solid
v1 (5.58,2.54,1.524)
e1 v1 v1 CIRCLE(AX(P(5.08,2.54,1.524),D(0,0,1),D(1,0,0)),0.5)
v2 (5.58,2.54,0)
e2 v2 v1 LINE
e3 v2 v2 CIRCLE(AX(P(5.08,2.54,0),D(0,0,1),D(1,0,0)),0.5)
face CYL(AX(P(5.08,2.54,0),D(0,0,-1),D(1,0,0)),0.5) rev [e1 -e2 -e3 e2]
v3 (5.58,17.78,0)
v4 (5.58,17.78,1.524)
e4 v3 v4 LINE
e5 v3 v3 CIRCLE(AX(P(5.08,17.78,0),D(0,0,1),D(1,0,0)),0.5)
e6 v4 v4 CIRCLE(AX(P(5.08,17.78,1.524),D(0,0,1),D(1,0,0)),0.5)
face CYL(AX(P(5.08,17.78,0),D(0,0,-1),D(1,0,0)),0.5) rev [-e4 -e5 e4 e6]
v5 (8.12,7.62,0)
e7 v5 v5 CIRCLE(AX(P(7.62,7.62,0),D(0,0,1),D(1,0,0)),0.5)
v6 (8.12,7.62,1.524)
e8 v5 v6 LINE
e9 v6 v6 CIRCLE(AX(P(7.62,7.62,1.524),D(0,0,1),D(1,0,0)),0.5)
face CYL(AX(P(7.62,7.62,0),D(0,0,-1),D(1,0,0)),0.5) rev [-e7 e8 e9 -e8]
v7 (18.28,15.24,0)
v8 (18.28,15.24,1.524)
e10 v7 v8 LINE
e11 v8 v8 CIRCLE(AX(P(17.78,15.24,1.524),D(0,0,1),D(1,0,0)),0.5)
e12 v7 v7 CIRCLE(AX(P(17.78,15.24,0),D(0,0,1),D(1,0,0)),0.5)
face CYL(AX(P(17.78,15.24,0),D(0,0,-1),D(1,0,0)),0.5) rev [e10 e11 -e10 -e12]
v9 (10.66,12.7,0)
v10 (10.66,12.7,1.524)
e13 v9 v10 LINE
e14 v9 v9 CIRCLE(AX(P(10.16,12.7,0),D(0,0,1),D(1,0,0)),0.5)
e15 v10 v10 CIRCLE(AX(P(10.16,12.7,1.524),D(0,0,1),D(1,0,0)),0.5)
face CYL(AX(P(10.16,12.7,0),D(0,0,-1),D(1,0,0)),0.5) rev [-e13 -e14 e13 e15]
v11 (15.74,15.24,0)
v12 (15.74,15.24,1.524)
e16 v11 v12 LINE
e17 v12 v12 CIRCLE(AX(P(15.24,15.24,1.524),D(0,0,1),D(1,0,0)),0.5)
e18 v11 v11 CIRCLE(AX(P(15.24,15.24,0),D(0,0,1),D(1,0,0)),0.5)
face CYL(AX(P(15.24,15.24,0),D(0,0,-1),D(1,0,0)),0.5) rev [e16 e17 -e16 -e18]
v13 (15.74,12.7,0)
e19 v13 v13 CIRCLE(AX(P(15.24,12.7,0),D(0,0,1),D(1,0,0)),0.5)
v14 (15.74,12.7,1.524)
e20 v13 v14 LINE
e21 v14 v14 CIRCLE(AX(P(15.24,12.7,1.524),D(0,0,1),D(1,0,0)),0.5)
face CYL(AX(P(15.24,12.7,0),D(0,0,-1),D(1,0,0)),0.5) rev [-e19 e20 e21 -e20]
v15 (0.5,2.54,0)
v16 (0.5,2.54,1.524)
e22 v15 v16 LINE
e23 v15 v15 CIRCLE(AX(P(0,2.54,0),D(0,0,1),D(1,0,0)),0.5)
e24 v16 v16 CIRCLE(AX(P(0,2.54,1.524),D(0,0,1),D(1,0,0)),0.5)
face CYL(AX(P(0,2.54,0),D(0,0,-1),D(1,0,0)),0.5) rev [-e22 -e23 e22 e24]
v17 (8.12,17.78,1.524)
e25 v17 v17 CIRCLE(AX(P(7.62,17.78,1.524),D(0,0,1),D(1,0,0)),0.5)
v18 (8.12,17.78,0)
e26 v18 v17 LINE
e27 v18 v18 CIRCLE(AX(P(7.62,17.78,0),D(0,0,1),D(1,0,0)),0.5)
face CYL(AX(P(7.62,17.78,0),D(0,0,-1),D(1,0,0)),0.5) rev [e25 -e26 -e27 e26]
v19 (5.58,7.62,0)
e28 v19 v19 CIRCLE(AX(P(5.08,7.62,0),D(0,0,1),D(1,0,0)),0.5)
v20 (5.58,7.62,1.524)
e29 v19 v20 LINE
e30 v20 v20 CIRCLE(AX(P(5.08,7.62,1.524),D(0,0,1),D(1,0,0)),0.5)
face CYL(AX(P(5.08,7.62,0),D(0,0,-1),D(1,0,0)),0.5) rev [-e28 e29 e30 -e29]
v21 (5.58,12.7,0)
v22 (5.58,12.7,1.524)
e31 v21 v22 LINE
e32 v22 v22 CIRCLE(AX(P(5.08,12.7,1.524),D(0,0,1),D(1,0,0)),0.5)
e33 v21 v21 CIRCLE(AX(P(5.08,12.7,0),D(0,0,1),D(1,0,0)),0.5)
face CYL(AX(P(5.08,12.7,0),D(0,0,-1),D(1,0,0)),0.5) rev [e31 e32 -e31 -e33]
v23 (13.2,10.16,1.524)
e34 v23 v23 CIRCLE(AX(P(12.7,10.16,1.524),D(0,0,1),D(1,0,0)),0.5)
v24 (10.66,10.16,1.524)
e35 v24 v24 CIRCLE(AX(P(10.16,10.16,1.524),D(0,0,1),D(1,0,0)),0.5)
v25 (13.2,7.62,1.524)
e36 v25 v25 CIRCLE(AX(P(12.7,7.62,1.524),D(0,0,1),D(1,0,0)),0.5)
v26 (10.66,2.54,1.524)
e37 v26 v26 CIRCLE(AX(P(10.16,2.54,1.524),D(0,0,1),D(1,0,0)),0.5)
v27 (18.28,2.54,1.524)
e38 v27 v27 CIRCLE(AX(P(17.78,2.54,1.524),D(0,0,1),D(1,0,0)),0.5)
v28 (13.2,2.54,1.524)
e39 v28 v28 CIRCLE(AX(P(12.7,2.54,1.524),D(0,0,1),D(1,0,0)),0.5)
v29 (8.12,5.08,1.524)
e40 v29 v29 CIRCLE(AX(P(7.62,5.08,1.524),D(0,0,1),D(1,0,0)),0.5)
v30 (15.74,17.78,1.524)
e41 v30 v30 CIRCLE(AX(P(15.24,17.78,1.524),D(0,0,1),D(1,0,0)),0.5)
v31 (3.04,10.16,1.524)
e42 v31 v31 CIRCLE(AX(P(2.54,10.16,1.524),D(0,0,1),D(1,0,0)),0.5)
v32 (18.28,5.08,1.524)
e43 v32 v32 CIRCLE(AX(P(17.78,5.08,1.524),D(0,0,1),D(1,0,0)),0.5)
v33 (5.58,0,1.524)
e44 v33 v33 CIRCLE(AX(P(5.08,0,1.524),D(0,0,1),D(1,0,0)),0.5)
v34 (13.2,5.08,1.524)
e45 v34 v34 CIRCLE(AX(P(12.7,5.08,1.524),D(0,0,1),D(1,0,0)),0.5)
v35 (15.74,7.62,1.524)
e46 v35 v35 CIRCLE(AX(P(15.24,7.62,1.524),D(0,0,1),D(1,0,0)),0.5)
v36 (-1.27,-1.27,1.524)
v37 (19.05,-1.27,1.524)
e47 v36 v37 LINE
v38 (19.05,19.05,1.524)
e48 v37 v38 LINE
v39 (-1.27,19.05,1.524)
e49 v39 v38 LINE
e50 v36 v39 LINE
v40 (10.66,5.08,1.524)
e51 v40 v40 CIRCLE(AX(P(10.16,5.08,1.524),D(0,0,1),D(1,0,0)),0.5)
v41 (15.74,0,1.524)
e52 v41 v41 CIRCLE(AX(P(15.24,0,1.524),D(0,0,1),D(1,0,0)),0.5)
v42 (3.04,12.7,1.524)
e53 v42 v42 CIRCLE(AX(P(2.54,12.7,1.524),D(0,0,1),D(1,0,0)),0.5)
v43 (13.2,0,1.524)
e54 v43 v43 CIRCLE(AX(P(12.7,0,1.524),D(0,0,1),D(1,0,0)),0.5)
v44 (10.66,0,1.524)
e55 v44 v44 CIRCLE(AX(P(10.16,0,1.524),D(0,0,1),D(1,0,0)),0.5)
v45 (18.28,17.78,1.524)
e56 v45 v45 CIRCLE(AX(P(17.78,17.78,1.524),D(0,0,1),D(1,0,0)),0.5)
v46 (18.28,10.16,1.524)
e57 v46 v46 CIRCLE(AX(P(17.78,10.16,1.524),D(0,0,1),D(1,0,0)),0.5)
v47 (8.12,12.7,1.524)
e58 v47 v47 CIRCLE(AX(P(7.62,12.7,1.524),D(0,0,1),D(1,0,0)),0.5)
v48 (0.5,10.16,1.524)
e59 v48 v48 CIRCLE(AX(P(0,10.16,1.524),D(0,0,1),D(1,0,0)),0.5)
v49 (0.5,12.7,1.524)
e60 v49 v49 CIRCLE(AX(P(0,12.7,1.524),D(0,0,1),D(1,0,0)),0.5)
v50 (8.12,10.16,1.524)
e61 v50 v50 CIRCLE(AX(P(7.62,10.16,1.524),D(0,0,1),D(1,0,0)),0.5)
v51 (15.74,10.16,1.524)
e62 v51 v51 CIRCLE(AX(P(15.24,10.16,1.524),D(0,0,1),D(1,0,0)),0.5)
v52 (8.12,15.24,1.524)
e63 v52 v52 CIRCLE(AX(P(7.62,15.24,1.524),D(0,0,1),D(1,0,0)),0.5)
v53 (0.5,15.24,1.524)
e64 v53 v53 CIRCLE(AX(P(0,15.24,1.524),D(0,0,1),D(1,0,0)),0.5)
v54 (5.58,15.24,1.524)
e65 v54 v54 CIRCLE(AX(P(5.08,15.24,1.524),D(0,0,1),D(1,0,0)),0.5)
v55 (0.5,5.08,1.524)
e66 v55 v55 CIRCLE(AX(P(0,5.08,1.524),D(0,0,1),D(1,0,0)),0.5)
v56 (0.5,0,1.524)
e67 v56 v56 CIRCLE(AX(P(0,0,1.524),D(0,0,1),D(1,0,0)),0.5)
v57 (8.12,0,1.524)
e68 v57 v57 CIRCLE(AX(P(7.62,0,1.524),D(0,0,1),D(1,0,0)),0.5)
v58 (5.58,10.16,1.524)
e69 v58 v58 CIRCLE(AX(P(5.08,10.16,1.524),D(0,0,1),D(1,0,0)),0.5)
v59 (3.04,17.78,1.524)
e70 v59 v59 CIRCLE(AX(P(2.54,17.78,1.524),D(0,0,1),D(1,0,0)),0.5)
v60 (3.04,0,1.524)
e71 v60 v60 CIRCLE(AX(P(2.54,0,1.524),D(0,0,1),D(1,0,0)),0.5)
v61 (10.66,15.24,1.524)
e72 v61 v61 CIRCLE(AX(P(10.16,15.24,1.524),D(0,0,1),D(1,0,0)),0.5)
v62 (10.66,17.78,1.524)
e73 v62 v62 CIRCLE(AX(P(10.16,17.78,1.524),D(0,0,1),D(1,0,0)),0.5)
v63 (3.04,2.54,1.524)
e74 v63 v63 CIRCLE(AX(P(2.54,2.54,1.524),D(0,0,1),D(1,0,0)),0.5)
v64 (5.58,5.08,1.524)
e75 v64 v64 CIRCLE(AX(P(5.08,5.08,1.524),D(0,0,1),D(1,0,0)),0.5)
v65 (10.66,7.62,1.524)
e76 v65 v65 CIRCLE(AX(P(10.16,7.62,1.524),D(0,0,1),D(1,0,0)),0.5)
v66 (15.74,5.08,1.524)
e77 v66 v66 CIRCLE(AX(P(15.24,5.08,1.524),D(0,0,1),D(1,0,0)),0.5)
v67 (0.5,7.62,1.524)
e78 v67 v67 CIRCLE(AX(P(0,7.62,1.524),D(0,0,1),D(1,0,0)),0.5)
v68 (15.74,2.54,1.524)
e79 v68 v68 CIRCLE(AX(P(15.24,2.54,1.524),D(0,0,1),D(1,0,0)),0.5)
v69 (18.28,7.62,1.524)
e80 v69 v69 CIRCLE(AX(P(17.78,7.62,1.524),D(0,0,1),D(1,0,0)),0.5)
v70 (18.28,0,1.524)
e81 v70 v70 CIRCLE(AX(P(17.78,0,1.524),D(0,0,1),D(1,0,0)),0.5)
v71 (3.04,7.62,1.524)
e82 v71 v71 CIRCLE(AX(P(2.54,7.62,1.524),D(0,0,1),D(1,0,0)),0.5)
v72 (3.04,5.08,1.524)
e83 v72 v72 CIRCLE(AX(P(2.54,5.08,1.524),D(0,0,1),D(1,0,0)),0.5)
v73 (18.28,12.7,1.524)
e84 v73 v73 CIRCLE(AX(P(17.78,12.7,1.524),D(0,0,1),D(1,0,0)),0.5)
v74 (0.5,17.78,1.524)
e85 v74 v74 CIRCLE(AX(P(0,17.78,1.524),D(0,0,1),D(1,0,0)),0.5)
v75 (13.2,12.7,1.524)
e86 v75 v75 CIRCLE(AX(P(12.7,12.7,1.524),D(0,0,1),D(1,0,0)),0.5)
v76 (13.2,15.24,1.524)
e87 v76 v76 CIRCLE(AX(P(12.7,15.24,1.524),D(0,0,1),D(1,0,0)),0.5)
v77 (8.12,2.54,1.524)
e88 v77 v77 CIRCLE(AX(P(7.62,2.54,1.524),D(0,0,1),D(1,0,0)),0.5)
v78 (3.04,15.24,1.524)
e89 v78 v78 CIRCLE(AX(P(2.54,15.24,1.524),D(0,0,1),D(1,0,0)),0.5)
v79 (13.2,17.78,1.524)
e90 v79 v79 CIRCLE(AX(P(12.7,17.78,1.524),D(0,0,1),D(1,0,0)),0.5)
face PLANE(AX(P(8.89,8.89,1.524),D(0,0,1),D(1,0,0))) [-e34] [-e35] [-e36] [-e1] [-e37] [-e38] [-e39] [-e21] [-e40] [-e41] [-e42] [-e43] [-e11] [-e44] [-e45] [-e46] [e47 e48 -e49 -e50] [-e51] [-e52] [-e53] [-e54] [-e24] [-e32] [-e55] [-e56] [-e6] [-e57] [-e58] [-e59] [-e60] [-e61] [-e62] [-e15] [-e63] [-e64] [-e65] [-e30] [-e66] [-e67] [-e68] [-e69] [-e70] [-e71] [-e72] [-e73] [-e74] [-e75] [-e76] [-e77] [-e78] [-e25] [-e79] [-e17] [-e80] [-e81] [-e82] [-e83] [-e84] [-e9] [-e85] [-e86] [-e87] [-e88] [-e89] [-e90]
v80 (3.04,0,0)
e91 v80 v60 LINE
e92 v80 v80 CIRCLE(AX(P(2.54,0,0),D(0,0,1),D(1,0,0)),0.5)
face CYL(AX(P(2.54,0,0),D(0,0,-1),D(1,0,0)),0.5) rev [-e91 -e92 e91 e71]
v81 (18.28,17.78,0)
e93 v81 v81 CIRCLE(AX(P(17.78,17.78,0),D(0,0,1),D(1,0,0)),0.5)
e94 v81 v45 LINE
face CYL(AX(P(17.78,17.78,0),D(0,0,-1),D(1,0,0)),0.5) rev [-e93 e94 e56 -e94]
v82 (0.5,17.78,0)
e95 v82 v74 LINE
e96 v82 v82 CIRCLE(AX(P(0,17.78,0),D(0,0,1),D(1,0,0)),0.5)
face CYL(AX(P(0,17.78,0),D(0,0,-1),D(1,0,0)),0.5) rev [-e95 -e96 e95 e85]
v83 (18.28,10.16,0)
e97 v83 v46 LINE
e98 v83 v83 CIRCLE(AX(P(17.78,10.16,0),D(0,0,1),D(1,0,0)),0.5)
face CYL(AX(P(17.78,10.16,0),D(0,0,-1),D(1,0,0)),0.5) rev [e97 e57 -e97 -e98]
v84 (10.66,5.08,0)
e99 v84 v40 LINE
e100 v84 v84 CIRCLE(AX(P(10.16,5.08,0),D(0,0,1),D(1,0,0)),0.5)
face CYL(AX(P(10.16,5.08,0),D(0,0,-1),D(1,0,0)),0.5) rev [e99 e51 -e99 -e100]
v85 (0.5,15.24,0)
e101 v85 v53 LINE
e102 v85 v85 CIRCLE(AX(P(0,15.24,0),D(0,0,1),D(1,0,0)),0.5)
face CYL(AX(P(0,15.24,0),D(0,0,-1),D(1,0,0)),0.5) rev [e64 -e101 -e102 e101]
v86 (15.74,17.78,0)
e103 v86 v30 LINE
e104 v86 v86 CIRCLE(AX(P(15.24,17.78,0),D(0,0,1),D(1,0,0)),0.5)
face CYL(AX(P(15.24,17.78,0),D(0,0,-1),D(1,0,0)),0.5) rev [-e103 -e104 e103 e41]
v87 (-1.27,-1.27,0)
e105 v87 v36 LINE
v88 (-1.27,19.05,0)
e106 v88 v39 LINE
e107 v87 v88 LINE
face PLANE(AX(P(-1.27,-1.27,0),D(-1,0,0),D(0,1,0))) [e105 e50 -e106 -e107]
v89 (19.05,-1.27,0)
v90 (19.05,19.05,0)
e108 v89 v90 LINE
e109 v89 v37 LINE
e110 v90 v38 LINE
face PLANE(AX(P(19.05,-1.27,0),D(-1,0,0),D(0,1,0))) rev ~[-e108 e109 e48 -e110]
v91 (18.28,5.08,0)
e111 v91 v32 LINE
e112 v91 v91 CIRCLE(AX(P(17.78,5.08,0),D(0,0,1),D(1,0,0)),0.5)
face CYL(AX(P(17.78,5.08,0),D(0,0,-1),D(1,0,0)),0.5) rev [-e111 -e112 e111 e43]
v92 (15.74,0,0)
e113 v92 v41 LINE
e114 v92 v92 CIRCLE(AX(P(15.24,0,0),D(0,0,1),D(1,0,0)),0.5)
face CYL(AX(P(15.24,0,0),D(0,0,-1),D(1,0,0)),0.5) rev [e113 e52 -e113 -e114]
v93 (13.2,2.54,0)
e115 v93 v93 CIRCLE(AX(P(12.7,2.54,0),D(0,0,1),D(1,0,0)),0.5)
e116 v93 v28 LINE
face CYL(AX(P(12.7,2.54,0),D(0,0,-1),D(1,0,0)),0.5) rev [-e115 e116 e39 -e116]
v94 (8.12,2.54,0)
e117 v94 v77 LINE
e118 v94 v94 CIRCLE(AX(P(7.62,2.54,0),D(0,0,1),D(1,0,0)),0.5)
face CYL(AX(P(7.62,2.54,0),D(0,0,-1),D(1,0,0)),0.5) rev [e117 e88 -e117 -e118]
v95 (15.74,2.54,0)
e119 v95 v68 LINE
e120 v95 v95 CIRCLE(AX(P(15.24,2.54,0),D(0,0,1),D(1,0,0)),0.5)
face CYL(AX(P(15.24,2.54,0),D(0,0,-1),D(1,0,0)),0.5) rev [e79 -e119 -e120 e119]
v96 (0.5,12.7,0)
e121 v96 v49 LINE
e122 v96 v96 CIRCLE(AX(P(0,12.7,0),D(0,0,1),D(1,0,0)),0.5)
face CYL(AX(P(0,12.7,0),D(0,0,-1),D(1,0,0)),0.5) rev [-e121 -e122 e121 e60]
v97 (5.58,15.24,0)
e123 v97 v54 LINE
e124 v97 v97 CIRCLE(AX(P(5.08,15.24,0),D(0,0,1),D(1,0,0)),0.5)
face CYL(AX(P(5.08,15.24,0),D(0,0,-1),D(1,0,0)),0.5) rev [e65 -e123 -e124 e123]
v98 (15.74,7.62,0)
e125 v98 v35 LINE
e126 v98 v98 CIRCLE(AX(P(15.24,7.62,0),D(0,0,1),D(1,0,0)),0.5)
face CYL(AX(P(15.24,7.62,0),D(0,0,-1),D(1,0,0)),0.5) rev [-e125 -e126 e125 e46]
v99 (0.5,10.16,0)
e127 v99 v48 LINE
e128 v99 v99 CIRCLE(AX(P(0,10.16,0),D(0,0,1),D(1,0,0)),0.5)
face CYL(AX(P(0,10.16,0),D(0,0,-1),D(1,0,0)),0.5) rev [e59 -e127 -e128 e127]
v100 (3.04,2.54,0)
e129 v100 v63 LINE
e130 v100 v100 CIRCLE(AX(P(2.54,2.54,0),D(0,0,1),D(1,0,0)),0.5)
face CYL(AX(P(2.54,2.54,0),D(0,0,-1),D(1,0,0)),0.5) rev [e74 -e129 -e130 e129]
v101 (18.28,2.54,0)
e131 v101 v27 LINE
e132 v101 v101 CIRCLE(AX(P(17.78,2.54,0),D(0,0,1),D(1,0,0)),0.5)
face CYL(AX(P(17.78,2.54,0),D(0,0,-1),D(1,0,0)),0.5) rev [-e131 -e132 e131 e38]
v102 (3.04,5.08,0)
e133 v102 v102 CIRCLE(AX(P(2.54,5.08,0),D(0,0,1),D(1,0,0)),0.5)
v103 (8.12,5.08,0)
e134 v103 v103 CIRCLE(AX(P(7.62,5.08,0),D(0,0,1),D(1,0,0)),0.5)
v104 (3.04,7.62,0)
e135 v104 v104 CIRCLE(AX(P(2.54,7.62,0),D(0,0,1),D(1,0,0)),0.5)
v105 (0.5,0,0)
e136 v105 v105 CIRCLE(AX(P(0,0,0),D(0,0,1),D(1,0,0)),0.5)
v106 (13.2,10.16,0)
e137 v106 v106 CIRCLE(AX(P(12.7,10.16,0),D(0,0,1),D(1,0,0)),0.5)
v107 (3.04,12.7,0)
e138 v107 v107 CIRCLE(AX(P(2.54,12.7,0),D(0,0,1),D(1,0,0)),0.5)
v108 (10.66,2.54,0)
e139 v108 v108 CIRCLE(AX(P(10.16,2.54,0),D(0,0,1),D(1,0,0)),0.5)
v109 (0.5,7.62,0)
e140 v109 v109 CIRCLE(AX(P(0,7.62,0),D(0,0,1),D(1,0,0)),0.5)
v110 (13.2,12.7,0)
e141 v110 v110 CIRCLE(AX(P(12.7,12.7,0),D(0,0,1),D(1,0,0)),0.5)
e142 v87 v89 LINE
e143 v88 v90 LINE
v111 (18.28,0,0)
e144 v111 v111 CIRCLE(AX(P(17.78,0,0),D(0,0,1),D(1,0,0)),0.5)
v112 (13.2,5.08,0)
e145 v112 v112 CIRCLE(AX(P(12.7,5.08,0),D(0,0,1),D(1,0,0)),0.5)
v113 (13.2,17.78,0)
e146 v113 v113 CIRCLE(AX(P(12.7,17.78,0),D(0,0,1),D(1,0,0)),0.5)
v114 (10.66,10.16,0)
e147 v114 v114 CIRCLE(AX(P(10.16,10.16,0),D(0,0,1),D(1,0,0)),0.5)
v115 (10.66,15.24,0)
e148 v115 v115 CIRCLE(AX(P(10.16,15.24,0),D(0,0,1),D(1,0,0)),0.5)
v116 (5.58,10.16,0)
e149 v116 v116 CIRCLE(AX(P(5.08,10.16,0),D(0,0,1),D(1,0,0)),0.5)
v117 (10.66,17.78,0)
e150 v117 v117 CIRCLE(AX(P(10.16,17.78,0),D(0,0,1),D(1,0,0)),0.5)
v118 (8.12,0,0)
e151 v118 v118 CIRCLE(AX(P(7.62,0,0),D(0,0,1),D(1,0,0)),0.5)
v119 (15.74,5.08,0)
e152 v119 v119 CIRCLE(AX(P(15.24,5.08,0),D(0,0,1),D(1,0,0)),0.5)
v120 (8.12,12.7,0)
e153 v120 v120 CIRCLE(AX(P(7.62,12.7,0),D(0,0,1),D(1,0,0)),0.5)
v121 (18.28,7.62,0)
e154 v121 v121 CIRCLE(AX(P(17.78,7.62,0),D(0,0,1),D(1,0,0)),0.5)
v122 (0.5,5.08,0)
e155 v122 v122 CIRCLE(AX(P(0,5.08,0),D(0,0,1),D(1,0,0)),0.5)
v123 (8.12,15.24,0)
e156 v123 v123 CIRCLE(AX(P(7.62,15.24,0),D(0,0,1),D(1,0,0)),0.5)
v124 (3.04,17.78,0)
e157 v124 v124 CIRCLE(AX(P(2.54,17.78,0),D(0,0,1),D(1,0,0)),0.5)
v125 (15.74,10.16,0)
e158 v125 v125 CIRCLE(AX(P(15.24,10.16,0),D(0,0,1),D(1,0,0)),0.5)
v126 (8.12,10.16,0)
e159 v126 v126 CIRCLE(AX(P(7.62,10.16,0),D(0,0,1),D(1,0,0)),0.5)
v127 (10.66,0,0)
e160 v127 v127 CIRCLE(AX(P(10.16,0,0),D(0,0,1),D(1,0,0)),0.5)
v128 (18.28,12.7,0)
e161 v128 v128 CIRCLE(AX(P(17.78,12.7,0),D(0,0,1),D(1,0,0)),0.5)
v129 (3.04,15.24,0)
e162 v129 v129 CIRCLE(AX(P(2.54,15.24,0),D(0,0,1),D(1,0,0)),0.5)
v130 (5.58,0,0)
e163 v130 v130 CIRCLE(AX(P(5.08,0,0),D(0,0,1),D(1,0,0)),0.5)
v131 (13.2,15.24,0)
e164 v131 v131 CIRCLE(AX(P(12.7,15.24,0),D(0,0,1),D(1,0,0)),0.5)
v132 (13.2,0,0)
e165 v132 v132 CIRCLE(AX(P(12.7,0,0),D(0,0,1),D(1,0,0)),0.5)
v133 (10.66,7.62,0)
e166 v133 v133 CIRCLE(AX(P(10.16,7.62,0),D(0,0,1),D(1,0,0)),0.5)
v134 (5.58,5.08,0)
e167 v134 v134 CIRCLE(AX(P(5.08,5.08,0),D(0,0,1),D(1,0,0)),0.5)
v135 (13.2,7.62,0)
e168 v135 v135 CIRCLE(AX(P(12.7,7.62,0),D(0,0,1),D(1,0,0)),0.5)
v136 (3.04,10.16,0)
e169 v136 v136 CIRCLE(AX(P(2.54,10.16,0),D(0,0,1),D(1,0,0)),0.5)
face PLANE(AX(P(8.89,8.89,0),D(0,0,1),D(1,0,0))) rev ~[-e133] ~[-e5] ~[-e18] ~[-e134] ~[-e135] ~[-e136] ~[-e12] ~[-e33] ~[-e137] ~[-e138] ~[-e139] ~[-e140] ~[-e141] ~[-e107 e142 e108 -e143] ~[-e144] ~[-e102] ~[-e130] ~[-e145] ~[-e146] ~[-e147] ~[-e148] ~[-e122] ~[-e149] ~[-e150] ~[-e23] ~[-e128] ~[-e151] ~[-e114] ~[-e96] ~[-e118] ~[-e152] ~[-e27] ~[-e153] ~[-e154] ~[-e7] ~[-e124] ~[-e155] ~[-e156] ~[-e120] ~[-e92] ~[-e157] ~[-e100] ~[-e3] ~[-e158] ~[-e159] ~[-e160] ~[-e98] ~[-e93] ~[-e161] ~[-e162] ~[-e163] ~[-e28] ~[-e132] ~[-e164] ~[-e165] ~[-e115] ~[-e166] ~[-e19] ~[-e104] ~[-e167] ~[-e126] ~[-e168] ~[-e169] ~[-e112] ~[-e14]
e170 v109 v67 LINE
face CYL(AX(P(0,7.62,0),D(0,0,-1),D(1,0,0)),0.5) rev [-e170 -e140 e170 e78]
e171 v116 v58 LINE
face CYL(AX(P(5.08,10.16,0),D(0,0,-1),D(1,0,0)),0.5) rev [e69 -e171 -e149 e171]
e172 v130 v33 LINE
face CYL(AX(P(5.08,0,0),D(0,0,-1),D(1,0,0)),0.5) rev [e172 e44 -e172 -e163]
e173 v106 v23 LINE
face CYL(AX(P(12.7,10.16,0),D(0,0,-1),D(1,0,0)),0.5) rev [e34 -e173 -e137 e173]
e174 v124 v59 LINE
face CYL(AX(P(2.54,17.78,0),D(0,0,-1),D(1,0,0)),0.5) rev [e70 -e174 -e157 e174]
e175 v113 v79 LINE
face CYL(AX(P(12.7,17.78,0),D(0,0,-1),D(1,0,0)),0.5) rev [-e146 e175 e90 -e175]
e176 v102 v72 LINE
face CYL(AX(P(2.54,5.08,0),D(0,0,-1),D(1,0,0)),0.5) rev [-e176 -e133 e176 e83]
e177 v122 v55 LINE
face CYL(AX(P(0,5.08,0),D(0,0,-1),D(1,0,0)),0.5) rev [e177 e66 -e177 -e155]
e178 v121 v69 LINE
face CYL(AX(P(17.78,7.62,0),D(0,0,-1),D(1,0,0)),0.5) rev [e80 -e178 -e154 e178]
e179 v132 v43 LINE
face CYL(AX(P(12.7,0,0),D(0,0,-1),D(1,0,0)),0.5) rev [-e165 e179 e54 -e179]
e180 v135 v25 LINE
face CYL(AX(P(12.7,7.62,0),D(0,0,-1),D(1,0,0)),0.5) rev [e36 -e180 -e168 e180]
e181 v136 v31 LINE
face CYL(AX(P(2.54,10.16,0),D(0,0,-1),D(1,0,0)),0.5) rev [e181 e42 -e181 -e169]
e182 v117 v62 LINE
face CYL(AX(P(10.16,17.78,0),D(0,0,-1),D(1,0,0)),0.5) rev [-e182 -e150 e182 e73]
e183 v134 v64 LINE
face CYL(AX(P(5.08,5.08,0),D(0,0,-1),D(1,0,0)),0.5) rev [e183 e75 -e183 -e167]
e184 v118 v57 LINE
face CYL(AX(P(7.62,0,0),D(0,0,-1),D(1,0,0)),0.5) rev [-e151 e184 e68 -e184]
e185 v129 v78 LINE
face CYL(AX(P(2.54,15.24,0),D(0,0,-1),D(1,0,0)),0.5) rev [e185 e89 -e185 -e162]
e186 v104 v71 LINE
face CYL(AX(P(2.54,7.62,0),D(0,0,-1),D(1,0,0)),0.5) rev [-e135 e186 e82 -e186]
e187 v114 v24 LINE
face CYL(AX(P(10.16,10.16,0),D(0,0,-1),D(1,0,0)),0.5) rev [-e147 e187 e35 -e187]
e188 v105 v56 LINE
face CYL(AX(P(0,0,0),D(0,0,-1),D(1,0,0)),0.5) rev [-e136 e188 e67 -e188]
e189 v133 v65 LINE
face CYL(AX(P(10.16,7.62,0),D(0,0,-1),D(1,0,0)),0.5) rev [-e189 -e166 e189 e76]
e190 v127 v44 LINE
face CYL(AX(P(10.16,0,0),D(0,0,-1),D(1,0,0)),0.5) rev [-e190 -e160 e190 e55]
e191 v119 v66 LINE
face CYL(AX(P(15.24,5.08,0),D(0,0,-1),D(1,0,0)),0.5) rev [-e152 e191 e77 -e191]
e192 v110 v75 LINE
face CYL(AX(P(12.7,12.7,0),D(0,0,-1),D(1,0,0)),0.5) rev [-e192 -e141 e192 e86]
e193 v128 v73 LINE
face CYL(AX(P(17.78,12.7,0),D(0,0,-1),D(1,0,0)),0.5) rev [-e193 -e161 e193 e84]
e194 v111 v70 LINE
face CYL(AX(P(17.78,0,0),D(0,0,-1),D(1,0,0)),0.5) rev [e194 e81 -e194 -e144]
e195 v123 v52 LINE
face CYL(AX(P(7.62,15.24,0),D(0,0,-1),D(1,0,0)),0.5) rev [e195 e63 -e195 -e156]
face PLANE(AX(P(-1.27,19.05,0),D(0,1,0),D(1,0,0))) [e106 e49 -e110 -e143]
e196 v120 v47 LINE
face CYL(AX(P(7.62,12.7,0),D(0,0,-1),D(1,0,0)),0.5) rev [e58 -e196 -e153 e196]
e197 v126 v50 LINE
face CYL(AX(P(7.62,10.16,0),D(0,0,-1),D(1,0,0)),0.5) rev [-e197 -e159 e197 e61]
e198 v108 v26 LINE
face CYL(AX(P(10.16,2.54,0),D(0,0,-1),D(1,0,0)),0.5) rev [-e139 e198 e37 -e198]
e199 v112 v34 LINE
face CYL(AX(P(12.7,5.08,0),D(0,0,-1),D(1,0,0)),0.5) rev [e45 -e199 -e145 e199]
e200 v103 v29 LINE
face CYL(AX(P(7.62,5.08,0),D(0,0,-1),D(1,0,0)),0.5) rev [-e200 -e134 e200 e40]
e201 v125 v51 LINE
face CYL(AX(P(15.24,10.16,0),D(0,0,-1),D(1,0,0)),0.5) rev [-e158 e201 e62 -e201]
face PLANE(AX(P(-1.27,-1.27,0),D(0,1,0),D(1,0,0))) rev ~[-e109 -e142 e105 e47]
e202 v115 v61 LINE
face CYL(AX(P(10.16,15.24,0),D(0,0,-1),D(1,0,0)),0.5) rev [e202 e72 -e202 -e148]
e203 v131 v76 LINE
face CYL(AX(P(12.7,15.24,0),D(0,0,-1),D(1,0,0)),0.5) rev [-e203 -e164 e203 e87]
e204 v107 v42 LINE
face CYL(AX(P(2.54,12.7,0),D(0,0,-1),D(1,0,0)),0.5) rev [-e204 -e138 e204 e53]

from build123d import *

# Parameters (mm, degrees)
F0_W     = 20.32
F0_H     = 20.32
F0_R     = 0.5
F1_DEPTH = 1.524


with BuildPart() as f1:
    # F0 (on Top) → F1 (new body)
    with BuildSketch(Plane.XY):
        with Locations((8.89, 8.89)):
            Rectangle(F0_W, F0_H)
        Circle(F0_R, mode=Mode.SUBTRACT)
        with Locations((2.54, 0)):
            Circle(F0_R, mode=Mode.SUBTRACT)
        with Locations((0, 2.54)):
            Circle(F0_R, mode=Mode.SUBTRACT)
        with Locations((2.54, 2.54)):
            Circle(F0_R, mode=Mode.SUBTRACT)
        with Locations((5.08, 0)):
            Circle(F0_R, mode=Mode.SUBTRACT)
        with Locations((7.62, 0)):
            Circle(F0_R, mode=Mode.SUBTRACT)
        with Locations((5.08, 2.54)):
            Circle(F0_R, mode=Mode.SUBTRACT)
        with Locations((7.62, 2.54)):
            Circle(F0_R, mode=Mode.SUBTRACT)
        with Locations((0, 5.08)):
            Circle(F0_R, mode=Mode.SUBTRACT)
        with Locations((2.54, 5.08)):
            Circle(F0_R, mode=Mode.SUBTRACT)
        with Locations((0, 7.62)):
            Circle(F0_R, mode=Mode.SUBTRACT)
        with Locations((2.54, 7.62)):
            Circle(F0_R, mode=Mode.SUBTRACT)
        with Locations((5.08, 5.08)):
            Circle(F0_R, mode=Mode.SUBTRACT)
        with Locations((7.62, 5.08)):
            Circle(F0_R, mode=Mode.SUBTRACT)
        with Locations((5.08, 7.62)):
            Circle(F0_R, mode=Mode.SUBTRACT)
        with Locations((7.62, 7.62)):
            Circle(F0_R, mode=Mode.SUBTRACT)
        with Locations((10.16, 0)):
            Circle(F0_R, mode=Mode.SUBTRACT)
        with Locations((12.7, 0)):
            Circle(F0_R, mode=Mode.SUBTRACT)
        with Locations((10.16, 2.54)):
            Circle(F0_R, mode=Mode.SUBTRACT)
        with Locations((12.7, 2.54)):
            Circle(F0_R, mode=Mode.SUBTRACT)
        with Locations((15.24, 0)):
            Circle(F0_R, mode=Mode.SUBTRACT)
        with Locations((17.78, 0)):
            Circle(F0_R, mode=Mode.SUBTRACT)
        with Locations((15.24, 2.54)):
            Circle(F0_R, mode=Mode.SUBTRACT)
        with Locations((17.78, 2.54)):
            Circle(F0_R, mode=Mode.SUBTRACT)
        with Locations((10.16, 5.08)):
            Circle(F0_R, mode=Mode.SUBTRACT)
        with Locations((12.7, 5.08)):
            Circle(F0_R, mode=Mode.SUBTRACT)
        with Locations((10.16, 7.62)):
            Circle(F0_R, mode=Mode.SUBTRACT)
        with Locations((12.7, 7.62)):
            Circle(F0_R, mode=Mode.SUBTRACT)
        with Locations((15.24, 5.08)):
            Circle(F0_R, mode=Mode.SUBTRACT)
        with Locations((17.78, 5.08)):
            Circle(F0_R, mode=Mode.SUBTRACT)
        with Locations((15.24, 7.62)):
            Circle(F0_R, mode=Mode.SUBTRACT)
        with Locations((17.78, 7.62)):
            Circle(F0_R, mode=Mode.SUBTRACT)
        with Locations((0, 10.16)):
            Circle(F0_R, mode=Mode.SUBTRACT)
        with Locations((2.54, 10.16)):
            Circle(F0_R, mode=Mode.SUBTRACT)
        with Locations((0, 12.7)):
            Circle(F0_R, mode=Mode.SUBTRACT)
        with Locations((2.54, 12.7)):
            Circle(F0_R, mode=Mode.SUBTRACT)
        with Locations((5.08, 10.16)):
            Circle(F0_R, mode=Mode.SUBTRACT)
        with Locations((7.62, 10.16)):
            Circle(F0_R, mode=Mode.SUBTRACT)
        with Locations((5.08, 12.7)):
            Circle(F0_R, mode=Mode.SUBTRACT)
        with Locations((7.62, 12.7)):
            Circle(F0_R, mode=Mode.SUBTRACT)
        with Locations((0, 15.24)):
            Circle(F0_R, mode=Mode.SUBTRACT)
        with Locations((2.54, 15.24)):
            Circle(F0_R, mode=Mode.SUBTRACT)
        with Locations((0, 17.78)):
            Circle(F0_R, mode=Mode.SUBTRACT)
        with Locations((2.54, 17.78)):
            Circle(F0_R, mode=Mode.SUBTRACT)
        with Locations((5.08, 15.24)):
            Circle(F0_R, mode=Mode.SUBTRACT)
        with Locations((7.62, 15.24)):
            Circle(F0_R, mode=Mode.SUBTRACT)
        with Locations((5.08, 17.78)):
            Circle(F0_R, mode=Mode.SUBTRACT)
        with Locations((7.62, 17.78)):
            Circle(F0_R, mode=Mode.SUBTRACT)
        with Locations((10.16, 10.16)):
            Circle(F0_R, mode=Mode.SUBTRACT)
        with Locations((12.7, 10.16)):
            Circle(F0_R, mode=Mode.SUBTRACT)
        with Locations((10.16, 12.7)):
            Circle(F0_R, mode=Mode.SUBTRACT)
        with Locations((12.7, 12.7)):
            Circle(F0_R, mode=Mode.SUBTRACT)
        with Locations((15.24, 10.16)):
            Circle(F0_R, mode=Mode.SUBTRACT)
        with Locations((17.78, 10.16)):
            Circle(F0_R, mode=Mode.SUBTRACT)
        with Locations((15.24, 12.7)):
            Circle(F0_R, mode=Mode.SUBTRACT)
        with Locations((17.78, 12.7)):
            Circle(F0_R, mode=Mode.SUBTRACT)
        with Locations((10.16, 15.24)):
            Circle(F0_R, mode=Mode.SUBTRACT)
        with Locations((12.7, 15.24)):
            Circle(F0_R, mode=Mode.SUBTRACT)
        with Locations((10.16, 17.78)):
            Circle(F0_R, mode=Mode.SUBTRACT)
        with Locations((12.7, 17.78)):
            Circle(F0_R, mode=Mode.SUBTRACT)
        with Locations((15.24, 15.24)):
            Circle(F0_R, mode=Mode.SUBTRACT)
        with Locations((17.78, 15.24)):
            Circle(F0_R, mode=Mode.SUBTRACT)
        with Locations((15.24, 17.78)):
            Circle(F0_R, mode=Mode.SUBTRACT)
        with Locations((17.78, 17.78)):
            Circle(F0_R, mode=Mode.SUBTRACT)
    extrude(amount=F1_DEPTH)


solid = f1.part
